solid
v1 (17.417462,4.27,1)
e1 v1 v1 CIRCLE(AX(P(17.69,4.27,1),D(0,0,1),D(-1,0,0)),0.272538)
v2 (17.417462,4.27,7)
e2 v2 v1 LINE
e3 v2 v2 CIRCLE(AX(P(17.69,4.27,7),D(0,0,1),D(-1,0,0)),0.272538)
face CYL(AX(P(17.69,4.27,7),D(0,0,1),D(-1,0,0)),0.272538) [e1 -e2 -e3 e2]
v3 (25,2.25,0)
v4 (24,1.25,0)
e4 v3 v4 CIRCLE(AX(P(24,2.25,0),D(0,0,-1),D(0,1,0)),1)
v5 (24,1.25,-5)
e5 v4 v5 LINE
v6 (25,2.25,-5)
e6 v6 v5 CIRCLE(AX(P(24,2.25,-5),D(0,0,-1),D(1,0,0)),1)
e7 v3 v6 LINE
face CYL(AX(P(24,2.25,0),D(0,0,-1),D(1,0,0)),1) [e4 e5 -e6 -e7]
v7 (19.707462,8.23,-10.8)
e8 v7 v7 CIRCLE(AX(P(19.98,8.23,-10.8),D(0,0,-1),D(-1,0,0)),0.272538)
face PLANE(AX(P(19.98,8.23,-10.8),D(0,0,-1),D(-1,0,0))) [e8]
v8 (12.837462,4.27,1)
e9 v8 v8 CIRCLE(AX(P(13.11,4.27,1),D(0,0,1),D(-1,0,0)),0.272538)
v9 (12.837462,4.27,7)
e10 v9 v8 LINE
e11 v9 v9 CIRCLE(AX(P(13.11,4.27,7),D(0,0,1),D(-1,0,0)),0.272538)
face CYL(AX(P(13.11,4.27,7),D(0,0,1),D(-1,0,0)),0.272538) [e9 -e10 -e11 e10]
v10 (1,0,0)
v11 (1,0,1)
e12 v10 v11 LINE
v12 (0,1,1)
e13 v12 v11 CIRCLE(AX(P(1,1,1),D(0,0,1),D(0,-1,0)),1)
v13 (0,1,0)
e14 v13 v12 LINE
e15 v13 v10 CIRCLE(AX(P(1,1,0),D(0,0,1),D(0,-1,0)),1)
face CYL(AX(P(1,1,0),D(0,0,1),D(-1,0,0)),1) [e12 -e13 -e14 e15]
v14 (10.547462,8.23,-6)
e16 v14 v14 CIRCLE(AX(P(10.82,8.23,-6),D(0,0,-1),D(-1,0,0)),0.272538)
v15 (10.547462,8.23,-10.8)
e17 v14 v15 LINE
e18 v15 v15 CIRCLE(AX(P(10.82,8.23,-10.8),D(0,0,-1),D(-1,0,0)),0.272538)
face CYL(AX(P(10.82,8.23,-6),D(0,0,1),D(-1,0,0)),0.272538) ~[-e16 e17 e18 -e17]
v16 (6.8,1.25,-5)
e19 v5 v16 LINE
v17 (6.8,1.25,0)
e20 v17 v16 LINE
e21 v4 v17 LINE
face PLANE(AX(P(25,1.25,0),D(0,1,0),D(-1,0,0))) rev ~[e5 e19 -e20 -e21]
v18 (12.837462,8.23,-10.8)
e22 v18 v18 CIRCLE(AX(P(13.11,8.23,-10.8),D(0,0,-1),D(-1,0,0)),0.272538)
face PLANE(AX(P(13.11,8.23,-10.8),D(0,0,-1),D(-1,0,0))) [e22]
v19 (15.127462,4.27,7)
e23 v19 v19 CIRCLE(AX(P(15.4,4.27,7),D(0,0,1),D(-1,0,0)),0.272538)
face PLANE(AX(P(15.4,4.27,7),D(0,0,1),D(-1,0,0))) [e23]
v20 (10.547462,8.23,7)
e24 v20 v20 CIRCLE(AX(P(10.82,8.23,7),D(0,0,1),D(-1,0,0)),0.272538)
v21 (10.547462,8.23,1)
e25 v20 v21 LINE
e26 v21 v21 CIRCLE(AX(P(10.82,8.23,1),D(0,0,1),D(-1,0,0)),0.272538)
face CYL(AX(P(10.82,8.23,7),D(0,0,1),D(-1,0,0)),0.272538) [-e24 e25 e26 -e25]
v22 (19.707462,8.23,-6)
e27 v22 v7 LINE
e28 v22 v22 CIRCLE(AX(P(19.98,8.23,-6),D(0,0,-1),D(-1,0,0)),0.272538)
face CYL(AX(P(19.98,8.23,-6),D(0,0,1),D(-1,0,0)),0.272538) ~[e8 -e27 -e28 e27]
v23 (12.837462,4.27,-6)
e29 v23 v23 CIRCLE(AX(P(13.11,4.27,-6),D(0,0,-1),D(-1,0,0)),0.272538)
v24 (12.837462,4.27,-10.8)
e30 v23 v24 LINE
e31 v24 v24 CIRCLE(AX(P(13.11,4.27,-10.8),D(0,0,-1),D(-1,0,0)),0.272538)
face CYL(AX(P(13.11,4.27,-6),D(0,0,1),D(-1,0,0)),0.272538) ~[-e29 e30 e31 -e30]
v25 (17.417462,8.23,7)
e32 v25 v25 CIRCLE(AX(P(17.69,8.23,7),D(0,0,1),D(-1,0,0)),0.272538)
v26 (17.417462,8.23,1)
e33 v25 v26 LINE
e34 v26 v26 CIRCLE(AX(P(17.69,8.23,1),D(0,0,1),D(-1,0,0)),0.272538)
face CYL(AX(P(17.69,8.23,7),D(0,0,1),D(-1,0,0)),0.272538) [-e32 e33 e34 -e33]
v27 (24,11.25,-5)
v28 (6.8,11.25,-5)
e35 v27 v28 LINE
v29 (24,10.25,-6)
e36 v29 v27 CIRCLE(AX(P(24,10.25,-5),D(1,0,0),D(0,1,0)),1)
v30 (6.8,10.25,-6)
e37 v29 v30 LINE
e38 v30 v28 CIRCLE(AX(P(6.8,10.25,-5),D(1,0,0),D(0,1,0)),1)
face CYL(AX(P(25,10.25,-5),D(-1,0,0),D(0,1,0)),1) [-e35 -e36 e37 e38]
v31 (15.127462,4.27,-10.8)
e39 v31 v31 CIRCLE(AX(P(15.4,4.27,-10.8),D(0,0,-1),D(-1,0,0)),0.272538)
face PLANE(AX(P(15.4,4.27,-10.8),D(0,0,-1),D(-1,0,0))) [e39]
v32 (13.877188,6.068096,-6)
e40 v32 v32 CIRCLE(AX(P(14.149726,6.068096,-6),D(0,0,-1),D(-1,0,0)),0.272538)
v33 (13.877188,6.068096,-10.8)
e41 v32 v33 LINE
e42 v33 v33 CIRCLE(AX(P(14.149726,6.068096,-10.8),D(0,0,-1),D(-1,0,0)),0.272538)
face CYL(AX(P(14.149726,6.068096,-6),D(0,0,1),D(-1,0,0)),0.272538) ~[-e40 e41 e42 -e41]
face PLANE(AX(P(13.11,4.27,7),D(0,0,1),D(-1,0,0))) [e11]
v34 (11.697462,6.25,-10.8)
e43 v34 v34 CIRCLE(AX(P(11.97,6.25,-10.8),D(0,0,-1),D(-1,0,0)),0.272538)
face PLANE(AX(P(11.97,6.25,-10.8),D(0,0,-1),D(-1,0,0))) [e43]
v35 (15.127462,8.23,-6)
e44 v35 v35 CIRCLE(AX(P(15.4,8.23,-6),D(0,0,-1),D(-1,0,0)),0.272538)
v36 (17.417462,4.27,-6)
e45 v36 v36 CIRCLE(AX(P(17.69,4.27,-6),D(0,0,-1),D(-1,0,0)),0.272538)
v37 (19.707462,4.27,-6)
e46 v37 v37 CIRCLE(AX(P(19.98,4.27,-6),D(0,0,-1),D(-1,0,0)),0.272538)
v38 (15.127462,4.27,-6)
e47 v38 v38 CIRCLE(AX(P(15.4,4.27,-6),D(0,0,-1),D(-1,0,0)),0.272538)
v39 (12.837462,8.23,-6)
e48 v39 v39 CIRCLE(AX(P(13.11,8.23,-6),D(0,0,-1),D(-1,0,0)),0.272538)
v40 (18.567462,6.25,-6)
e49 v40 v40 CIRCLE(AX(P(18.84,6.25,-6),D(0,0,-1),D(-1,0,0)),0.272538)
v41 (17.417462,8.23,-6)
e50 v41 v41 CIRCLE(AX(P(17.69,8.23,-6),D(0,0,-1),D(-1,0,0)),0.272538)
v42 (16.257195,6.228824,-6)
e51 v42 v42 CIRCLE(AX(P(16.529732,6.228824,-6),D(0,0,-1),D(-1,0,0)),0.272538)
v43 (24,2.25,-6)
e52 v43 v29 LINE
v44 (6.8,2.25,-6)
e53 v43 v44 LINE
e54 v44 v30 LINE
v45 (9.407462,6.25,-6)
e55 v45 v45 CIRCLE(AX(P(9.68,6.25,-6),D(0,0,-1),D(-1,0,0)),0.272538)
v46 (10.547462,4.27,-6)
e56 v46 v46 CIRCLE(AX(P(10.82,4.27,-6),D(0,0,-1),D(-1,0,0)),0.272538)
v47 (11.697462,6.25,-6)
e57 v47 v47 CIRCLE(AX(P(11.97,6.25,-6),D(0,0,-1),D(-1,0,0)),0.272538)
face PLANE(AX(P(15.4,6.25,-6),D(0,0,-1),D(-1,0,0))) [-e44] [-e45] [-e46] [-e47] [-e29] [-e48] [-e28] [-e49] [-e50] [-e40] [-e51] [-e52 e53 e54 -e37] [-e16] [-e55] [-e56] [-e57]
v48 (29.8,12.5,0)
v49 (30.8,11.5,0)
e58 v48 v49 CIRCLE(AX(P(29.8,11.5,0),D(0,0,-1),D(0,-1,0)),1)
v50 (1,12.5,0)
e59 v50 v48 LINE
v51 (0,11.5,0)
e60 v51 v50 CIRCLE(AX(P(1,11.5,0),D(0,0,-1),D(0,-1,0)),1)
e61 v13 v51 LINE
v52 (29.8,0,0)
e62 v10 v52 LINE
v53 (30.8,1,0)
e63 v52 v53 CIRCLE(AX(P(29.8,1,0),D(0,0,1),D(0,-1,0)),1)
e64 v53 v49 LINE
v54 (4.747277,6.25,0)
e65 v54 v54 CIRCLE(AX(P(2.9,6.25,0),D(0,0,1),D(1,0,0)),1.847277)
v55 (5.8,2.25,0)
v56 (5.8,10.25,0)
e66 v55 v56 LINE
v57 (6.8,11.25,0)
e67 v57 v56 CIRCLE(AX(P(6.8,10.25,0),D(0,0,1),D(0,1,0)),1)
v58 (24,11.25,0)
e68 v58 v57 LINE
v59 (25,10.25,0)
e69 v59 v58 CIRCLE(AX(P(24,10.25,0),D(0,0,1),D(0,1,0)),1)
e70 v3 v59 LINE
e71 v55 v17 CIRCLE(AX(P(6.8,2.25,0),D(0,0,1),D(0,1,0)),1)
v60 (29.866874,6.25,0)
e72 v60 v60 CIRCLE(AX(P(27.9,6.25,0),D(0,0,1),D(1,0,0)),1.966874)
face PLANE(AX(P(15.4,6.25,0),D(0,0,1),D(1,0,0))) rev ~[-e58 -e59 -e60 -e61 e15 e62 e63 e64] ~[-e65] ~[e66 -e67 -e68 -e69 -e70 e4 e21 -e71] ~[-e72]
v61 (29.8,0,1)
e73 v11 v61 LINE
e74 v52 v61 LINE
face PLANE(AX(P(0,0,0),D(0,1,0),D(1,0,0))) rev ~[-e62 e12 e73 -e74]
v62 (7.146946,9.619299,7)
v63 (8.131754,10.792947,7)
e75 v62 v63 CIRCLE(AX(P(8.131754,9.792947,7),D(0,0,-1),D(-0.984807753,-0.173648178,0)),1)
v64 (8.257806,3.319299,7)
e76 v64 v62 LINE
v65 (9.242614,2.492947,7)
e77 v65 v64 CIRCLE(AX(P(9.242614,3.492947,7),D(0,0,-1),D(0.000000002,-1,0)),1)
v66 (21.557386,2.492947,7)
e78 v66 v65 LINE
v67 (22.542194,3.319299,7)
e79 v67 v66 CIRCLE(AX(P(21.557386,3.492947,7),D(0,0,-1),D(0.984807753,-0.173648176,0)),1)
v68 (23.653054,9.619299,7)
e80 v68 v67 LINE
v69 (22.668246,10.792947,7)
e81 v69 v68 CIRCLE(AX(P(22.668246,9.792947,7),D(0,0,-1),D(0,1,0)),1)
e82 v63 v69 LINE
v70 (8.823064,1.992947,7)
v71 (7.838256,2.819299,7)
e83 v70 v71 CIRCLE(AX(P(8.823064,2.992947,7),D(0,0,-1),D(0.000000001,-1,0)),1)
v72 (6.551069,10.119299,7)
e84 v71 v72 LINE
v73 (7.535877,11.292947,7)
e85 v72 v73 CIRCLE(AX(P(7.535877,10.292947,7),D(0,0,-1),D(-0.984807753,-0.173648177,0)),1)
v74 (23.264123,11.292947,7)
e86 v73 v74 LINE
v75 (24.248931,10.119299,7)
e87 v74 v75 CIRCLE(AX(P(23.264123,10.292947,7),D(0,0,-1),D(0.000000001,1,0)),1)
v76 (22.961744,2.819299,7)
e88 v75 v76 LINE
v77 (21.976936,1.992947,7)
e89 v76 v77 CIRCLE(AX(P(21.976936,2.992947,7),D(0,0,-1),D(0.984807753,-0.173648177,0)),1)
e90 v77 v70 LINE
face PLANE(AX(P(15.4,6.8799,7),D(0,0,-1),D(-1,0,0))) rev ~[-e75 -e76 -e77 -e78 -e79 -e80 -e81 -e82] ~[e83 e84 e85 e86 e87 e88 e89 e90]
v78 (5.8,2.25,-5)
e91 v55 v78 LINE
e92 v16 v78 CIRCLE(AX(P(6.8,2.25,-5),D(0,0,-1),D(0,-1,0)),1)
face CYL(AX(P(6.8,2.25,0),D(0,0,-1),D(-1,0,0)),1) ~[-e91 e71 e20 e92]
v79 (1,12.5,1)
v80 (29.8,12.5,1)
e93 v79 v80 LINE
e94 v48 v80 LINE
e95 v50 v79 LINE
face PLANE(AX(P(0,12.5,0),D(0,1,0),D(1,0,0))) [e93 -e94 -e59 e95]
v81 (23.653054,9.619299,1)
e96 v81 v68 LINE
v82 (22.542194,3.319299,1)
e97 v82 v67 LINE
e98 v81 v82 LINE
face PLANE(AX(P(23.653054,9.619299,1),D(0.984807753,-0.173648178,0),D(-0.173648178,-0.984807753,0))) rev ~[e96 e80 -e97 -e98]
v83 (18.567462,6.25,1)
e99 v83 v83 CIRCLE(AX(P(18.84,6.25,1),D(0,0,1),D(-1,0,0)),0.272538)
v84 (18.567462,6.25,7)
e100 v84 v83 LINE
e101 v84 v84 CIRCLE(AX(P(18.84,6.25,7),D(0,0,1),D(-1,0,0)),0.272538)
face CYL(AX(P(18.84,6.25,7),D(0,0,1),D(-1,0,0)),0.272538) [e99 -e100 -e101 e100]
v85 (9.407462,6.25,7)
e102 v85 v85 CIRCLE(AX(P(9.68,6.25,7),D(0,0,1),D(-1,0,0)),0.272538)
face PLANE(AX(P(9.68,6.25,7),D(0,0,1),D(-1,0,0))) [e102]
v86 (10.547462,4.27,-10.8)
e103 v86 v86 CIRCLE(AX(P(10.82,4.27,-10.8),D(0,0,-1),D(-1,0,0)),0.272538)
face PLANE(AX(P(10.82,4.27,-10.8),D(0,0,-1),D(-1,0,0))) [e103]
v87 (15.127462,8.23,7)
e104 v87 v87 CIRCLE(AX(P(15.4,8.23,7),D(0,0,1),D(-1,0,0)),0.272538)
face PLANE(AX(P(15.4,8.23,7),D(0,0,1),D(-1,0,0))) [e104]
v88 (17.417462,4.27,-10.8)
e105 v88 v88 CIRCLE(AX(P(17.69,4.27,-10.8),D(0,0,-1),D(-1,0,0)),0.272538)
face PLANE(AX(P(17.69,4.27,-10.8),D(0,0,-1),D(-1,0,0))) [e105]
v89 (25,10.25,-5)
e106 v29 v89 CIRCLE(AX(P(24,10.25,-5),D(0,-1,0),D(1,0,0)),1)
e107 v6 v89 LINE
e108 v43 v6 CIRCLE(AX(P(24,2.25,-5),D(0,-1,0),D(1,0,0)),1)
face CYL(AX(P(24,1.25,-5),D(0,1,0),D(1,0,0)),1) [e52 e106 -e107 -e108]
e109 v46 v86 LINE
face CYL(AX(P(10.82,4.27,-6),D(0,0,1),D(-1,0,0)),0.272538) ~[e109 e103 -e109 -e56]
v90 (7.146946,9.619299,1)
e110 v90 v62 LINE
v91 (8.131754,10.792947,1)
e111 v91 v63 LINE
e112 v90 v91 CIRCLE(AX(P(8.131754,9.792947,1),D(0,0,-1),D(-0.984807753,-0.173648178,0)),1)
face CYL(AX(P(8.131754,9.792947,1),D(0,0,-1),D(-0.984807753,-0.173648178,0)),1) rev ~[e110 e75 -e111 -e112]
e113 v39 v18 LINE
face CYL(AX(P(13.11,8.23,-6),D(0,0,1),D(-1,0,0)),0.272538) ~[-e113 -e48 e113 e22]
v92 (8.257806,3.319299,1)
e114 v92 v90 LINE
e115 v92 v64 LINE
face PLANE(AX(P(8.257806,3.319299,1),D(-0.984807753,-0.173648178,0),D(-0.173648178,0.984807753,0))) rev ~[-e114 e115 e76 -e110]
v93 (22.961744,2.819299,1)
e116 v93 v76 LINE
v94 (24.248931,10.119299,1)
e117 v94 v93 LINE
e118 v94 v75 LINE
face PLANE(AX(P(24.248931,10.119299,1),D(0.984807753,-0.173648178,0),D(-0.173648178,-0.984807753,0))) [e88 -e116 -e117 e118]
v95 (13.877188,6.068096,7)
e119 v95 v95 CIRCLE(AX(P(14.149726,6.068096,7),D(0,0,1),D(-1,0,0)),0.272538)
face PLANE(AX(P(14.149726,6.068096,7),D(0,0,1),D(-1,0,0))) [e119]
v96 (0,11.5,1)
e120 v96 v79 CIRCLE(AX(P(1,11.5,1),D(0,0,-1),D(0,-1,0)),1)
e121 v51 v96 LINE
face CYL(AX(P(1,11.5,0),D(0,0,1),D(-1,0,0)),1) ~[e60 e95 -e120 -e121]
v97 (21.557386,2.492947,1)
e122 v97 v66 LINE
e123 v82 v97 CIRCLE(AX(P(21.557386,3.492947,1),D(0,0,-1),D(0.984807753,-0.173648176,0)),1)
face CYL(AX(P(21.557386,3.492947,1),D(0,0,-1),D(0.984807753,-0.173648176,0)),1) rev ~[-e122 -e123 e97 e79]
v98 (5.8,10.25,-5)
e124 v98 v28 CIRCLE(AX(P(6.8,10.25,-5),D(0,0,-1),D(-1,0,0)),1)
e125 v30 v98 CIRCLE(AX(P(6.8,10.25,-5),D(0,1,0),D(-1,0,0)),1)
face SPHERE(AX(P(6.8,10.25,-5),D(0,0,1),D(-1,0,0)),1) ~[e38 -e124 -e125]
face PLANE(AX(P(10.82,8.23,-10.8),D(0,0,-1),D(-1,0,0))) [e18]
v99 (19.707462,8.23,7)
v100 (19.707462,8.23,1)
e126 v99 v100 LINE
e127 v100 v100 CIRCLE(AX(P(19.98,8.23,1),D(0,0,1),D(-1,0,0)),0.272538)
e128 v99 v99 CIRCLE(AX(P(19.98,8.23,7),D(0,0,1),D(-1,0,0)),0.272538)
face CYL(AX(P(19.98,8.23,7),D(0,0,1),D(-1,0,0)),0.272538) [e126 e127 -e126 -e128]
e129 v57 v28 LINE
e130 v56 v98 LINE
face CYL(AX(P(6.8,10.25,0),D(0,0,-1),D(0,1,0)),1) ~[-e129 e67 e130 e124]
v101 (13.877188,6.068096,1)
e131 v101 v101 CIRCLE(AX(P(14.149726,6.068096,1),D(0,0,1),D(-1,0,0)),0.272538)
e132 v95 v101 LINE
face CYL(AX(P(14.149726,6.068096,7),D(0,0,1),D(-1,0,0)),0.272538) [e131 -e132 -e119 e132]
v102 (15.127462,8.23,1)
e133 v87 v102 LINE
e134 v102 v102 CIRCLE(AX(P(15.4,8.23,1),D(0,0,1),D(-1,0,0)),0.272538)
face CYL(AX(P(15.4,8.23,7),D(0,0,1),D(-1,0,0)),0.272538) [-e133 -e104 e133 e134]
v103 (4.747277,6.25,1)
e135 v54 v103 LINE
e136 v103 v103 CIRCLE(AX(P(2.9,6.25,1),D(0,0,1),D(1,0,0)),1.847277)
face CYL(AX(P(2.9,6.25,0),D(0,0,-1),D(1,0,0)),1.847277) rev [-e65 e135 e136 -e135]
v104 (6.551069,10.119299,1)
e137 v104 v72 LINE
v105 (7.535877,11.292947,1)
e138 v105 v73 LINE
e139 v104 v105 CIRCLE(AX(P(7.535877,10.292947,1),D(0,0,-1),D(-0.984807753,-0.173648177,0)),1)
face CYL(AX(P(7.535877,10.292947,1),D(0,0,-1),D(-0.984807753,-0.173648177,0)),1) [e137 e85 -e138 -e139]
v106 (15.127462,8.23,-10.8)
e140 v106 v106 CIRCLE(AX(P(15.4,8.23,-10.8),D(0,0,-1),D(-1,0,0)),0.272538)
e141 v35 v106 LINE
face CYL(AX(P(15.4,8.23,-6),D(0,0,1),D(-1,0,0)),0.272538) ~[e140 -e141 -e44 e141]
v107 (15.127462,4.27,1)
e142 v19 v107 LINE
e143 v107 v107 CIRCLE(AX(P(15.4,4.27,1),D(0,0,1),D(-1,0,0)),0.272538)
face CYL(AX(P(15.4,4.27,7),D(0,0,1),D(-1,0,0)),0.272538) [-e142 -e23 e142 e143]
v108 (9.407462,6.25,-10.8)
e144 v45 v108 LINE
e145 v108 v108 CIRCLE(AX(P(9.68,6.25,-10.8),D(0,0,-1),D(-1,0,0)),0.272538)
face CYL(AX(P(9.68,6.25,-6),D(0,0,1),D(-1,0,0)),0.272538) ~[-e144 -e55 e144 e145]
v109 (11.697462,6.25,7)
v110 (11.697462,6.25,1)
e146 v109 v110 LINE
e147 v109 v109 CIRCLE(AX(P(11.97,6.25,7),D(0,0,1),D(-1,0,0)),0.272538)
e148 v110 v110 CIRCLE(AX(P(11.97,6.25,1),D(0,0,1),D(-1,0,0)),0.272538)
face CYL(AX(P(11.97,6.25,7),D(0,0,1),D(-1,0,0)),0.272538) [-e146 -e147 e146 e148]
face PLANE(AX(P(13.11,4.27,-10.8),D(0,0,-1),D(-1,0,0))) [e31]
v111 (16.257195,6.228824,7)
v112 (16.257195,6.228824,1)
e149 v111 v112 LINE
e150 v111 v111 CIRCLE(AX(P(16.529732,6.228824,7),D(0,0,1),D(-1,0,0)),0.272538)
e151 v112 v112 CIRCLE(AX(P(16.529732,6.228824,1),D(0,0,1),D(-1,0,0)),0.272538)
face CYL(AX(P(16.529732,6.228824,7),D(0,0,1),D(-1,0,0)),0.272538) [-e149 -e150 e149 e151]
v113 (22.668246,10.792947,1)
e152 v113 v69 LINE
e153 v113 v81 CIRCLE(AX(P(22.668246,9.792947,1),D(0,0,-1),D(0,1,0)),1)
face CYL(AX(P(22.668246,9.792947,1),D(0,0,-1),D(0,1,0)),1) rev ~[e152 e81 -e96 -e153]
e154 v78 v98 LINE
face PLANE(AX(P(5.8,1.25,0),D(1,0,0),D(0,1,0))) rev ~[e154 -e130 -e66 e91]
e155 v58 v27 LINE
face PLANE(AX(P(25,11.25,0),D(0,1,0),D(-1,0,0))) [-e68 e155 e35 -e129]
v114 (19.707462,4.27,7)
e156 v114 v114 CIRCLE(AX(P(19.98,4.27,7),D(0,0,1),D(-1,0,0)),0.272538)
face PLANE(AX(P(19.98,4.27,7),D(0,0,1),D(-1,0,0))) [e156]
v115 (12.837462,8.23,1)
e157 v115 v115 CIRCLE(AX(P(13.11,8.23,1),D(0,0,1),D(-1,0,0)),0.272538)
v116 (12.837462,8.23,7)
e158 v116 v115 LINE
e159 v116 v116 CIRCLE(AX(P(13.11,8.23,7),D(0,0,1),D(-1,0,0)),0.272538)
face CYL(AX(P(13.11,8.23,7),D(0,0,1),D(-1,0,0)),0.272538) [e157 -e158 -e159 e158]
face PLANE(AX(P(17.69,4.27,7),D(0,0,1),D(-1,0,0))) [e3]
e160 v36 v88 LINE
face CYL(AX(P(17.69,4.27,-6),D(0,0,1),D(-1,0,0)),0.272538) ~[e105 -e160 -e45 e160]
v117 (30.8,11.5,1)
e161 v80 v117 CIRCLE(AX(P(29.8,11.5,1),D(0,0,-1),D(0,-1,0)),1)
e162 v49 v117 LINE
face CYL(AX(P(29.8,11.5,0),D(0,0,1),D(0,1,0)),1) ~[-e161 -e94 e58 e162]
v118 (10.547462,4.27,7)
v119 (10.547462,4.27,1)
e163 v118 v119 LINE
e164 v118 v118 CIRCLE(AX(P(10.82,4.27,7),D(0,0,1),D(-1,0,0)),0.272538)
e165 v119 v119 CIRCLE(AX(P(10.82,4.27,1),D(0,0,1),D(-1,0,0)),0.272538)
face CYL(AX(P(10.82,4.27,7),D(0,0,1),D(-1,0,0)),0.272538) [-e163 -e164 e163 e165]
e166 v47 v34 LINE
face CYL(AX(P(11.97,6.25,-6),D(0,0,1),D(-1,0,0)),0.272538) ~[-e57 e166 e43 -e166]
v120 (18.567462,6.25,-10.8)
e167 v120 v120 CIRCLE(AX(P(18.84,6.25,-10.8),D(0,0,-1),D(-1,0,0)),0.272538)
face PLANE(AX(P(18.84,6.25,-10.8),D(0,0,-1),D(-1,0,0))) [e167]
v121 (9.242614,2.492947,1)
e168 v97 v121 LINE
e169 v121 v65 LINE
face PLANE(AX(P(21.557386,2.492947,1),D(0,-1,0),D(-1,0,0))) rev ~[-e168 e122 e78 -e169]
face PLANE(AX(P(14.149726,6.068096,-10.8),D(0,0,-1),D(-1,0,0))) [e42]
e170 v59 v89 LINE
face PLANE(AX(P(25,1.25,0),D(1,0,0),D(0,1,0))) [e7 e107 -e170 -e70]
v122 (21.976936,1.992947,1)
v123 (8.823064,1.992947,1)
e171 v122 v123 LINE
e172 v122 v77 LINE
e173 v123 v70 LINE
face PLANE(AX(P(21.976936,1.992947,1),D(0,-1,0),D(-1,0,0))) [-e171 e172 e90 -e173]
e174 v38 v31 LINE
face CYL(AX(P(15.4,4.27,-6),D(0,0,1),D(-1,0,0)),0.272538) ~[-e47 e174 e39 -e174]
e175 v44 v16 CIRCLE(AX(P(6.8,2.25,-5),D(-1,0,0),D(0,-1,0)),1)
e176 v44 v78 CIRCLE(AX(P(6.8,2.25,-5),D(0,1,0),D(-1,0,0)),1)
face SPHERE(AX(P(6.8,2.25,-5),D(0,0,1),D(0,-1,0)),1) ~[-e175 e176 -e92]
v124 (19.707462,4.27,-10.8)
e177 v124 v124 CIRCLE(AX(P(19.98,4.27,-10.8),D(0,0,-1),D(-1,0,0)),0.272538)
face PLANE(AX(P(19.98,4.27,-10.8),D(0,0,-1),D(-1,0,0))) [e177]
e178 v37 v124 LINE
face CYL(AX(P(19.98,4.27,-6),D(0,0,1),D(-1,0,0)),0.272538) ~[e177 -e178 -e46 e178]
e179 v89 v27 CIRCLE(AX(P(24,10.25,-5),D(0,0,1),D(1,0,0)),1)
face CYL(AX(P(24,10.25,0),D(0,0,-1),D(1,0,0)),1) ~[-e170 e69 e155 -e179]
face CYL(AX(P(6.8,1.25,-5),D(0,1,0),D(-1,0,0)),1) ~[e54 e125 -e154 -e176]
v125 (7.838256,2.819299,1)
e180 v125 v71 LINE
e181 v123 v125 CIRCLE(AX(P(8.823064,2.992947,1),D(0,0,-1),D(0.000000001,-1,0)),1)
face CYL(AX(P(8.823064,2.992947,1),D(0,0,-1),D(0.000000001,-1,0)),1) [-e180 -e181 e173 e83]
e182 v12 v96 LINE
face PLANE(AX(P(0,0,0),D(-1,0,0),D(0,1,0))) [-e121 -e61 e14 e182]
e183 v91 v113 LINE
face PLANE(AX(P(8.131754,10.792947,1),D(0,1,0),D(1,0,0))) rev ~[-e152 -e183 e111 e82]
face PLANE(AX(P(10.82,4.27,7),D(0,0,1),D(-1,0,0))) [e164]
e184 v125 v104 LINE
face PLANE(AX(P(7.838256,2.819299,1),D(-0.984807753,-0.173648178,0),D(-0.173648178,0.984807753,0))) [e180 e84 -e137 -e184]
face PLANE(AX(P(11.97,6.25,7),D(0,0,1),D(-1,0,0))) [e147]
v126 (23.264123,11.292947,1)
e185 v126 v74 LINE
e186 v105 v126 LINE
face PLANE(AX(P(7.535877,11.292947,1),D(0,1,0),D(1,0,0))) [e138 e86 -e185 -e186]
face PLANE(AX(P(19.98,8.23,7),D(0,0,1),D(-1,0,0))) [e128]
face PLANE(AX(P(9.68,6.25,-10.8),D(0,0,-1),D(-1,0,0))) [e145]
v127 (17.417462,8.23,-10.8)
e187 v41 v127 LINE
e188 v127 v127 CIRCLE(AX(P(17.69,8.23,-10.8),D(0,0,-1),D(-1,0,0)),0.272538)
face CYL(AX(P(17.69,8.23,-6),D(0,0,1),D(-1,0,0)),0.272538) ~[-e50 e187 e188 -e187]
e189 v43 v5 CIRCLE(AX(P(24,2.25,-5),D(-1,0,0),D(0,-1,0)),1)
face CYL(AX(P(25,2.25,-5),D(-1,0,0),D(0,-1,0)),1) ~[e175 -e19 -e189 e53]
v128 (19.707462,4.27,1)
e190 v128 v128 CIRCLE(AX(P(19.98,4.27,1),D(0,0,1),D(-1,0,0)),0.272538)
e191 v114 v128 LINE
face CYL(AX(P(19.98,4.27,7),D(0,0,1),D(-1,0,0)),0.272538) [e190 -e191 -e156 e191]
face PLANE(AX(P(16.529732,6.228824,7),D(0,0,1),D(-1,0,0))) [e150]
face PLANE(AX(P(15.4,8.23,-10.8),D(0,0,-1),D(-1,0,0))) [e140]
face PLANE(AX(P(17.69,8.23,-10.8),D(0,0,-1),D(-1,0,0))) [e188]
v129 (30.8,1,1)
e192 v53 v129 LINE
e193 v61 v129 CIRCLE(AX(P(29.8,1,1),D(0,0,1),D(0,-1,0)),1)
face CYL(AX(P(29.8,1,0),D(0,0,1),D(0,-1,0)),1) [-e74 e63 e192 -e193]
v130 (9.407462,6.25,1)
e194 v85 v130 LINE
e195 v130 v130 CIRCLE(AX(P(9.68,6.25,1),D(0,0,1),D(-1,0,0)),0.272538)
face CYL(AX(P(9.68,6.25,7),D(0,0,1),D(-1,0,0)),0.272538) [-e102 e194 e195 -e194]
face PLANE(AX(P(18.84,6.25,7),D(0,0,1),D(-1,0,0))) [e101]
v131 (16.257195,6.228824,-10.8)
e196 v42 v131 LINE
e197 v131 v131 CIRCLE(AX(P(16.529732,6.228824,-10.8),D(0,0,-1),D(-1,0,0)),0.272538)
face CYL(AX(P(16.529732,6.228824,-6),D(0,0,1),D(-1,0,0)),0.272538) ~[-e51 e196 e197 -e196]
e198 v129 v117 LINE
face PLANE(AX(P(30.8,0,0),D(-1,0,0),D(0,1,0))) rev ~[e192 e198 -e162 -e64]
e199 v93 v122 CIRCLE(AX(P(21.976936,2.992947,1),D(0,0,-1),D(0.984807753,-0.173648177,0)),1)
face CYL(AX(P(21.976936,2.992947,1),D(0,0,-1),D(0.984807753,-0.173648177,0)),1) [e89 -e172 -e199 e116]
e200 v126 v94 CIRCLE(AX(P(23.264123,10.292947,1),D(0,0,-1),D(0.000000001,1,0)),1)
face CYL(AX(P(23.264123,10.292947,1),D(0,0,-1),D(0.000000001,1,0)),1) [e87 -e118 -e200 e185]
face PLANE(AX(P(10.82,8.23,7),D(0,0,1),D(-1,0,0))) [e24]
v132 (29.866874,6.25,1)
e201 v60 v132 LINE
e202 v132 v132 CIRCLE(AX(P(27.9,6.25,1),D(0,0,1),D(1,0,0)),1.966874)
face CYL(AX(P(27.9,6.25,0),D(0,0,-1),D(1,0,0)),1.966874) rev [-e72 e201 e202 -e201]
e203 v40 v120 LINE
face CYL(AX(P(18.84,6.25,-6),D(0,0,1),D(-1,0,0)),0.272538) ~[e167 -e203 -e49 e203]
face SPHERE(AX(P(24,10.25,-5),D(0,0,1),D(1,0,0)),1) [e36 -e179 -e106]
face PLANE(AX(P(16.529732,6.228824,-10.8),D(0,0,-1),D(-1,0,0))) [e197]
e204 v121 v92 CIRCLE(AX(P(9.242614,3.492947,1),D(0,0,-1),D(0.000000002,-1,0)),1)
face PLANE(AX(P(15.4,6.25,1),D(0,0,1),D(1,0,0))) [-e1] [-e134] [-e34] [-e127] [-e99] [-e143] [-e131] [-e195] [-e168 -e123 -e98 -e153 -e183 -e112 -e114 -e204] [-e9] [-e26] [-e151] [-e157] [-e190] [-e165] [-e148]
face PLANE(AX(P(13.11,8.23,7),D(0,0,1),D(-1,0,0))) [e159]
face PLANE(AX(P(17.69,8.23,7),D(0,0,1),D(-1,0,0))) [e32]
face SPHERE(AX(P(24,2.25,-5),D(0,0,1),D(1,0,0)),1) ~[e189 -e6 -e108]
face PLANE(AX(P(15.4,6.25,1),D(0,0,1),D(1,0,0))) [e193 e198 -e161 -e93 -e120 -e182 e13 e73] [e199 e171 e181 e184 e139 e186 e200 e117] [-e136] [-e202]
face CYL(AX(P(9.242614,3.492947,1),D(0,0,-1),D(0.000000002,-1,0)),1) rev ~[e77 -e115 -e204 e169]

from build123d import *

# Parameters (mm, degrees)
ESQUISSE1_W      = 30.8
ESQUISSE1_H      = 12.5
ESQUISSE1_R      = 1.847277142
ESQUISSE1_R_2    = 1.96687405
EXTRUSION1_DEPTH = 1
EXTRUSION2_DEPTH = 6
ESQUISSE3_W      = 19.2
ESQUISSE3_H      = 10
EXTRUSION3_DEPTH = 6
ESQUISSE4_R      = 0.272537765
EXTRUSION4_DEPTH = 4.8
CONG_1_R         = 1
EXTRUSION6_START = 6
ESQUISSE7_R      = 0.272537765
EXTRUSION6_DEPTH = 6


with BuildPart() as part:
    # Esquisse1 → Extrusion1 (new body)
    with BuildSketch(Plane.XY):
        with Locations((15.4, 6.25)):
            Rectangle(ESQUISSE1_W, ESQUISSE1_H)
        with Locations((2.9, 6.25)):
            Circle(ESQUISSE1_R, mode=Mode.SUBTRACT)
        with Locations((27.9, 6.25)):
            Circle(ESQUISSE1_R_2, mode=Mode.SUBTRACT)
    extrude(amount=EXTRUSION1_DEPTH)

    # Esquisse2 → Extrusion2 (add)
    with BuildSketch(Plane.XY.offset(1)):
        with BuildLine():
            Line((7.535876796, 11.292947196), (23.264123204, 11.292947196))
            ThreePointArc((23.264123204, 11.292947196), (24.030167647, 10.935734805), (24.248930957, 10.119299018))
            Line((24.248930957, 10.119299018), (22.961743998, 2.819299018))
            ThreePointArc((22.961743998, 2.819299018), (22.619723854, 2.226902752), (21.976936245, 1.992947196))
            Line((21.976936245, 1.992947196), (8.823063755, 1.992947196))
            ThreePointArc((8.823063755, 1.992947196), (8.180276146, 2.226902752), (7.838256002, 2.819299018))
            Line((7.838256002, 2.819299018), (6.551069043, 10.119299018))
            ThreePointArc((6.551069043, 10.119299018), (6.769832353, 10.935734805), (7.535876796, 11.292947196))
        make_face()
        with BuildLine():
            Line((8.131753593, 10.792947196), (22.668246407, 10.792947196))
            ThreePointArc((22.668246407, 10.792947196), (23.434290851, 10.435734805), (23.65305416, 9.619299018))
            Line((23.65305416, 9.619299018), (22.542194182, 3.319299018))
            ThreePointArc((22.542194182, 3.319299018), (22.200174039, 2.726902752), (21.557386429, 2.492947196))
            Line((21.557386429, 2.492947196), (9.242613571, 2.492947196))
            ThreePointArc((9.242613571, 2.492947196), (8.599825961, 2.726902752), (8.257805818, 3.319299018))
            Line((8.257805818, 3.319299018), (7.14694584, 9.619299018))
            ThreePointArc((7.14694584, 9.619299018), (7.365709149, 10.435734805), (8.131753593, 10.792947196))
        make_face(mode=Mode.SUBTRACT)
    extrude(amount=EXTRUSION2_DEPTH)

    # Esquisse3 → Extrusion3 (add)
    with BuildSketch(Plane(origin=(0, 0, 0), x_dir=(-1, 0, 0), z_dir=(0, 0, -1))):
        with Locations((-15.4, 6.25)):
            Rectangle(ESQUISSE3_W, ESQUISSE3_H)
    extrude(amount=EXTRUSION3_DEPTH)

    # Esquisse4 → Extrusion4 (add)
    with BuildSketch(Plane(origin=(0, 0, -6), x_dir=(-1, 0, 0), z_dir=(0, 0, -1))):
        with Locations((-19.98, 8.23)):
            Circle(ESQUISSE4_R)
        with Locations((-17.69, 8.23)):
            Circle(ESQUISSE4_R)
        with Locations((-15.4, 8.23)):
            Circle(ESQUISSE4_R)
        with Locations((-13.11, 8.23)):
            Circle(ESQUISSE4_R)
        with Locations((-10.82, 8.23)):
            Circle(ESQUISSE4_R)
        with Locations((-9.68, 6.25)):
            Circle(ESQUISSE4_R)
        with Locations((-11.97, 6.25)):
            Circle(ESQUISSE4_R)
        with Locations((-14.149725584, 6.068095869)):
            Circle(ESQUISSE4_R)
        with Locations((-16.529732269, 6.22882427)):
            Circle(ESQUISSE4_R)
        with Locations((-18.84, 6.25)):
            Circle(ESQUISSE4_R)
        with Locations((-19.98, 4.27)):
            Circle(ESQUISSE4_R)
        with Locations((-17.69, 4.27)):
            Circle(ESQUISSE4_R)
        with Locations((-15.4, 4.27)):
            Circle(ESQUISSE4_R)
        with Locations((-13.11, 4.27)):
            Circle(ESQUISSE4_R)
        with Locations((-10.82, 4.27)):
            Circle(ESQUISSE4_R)
    extrude(amount=EXTRUSION4_DEPTH)

    # Congé1
    cong_1_edges = [part.edges().sort_by_distance(p)[0] for p in [
        (25, 11.25, -3),
        (25, 1.25, -3),
        (5.8, 1.25, -3),
        (5.8, 11.25, -3),
        (25, 6.25, -6),
        (15.4, 1.25, -6),
        (5.8, 6.25, -6),
        (15.4, 11.25, -6),
        (0, 12.5, 0.5),
        (30.8, 12.5, 0.5),
        (30.8, 0, 0.5),
        (0, 0, 0.5),
    ]]
    fillet(cong_1_edges, radius=CONG_1_R)

    # Esquisse7 → Extrusion6 (add)
    with BuildSketch(Plane.XY.offset(1).offset(EXTRUSION6_START)):
        with Locations(Location((19.98, 8.23, 0), (0, 0, 180))):
            Circle(ESQUISSE7_R)
        with Locations(Location((17.69, 8.23, 0), (0, 0, 180))):
            Circle(ESQUISSE7_R)
        with Locations(Location((15.4, 8.23, 0), (0, 0, 180))):
            Circle(ESQUISSE7_R)
        with Locations(Location((13.11, 8.23, 0), (0, 0, 180))):
            Circle(ESQUISSE7_R)
        with Locations(Location((10.82, 8.23, 0), (0, 0, 180))):
            Circle(ESQUISSE7_R)
        with Locations(Location((9.68, 6.25, 0), (0, 0, 180))):
            Circle(ESQUISSE7_R)
        with Locations(Location((11.97, 6.25, 0), (0, 0, 180))):
            Circle(ESQUISSE7_R)
        with Locations(Location((14.149725584, 6.068095869, 0), (0, 0, 180))):
            Circle(ESQUISSE7_R)
        with Locations(Location((16.529732269, 6.22882427, 0), (0, 0, 180))):
            Circle(ESQUISSE7_R)
        with Locations(Location((18.84, 6.25, 0), (0, 0, 180))):
            Circle(ESQUISSE7_R)
        with Locations(Location((19.98, 4.27, 0), (0, 0, 180))):
            Circle(ESQUISSE7_R)
        with Locations(Location((17.69, 4.27, 0), (0, 0, 180))):
            Circle(ESQUISSE7_R)
        with Locations(Location((15.4, 4.27, 0), (0, 0, 180))):
            Circle(ESQUISSE7_R)
        with Locations(Location((13.11, 4.27, 0), (0, 0, 180))):
            Circle(ESQUISSE7_R)
        with Locations(Location((10.82, 4.27, 0), (0, 0, 180))):
            Circle(ESQUISSE7_R)
    extrude(amount=-EXTRUSION6_DEPTH)


solid = part.part
